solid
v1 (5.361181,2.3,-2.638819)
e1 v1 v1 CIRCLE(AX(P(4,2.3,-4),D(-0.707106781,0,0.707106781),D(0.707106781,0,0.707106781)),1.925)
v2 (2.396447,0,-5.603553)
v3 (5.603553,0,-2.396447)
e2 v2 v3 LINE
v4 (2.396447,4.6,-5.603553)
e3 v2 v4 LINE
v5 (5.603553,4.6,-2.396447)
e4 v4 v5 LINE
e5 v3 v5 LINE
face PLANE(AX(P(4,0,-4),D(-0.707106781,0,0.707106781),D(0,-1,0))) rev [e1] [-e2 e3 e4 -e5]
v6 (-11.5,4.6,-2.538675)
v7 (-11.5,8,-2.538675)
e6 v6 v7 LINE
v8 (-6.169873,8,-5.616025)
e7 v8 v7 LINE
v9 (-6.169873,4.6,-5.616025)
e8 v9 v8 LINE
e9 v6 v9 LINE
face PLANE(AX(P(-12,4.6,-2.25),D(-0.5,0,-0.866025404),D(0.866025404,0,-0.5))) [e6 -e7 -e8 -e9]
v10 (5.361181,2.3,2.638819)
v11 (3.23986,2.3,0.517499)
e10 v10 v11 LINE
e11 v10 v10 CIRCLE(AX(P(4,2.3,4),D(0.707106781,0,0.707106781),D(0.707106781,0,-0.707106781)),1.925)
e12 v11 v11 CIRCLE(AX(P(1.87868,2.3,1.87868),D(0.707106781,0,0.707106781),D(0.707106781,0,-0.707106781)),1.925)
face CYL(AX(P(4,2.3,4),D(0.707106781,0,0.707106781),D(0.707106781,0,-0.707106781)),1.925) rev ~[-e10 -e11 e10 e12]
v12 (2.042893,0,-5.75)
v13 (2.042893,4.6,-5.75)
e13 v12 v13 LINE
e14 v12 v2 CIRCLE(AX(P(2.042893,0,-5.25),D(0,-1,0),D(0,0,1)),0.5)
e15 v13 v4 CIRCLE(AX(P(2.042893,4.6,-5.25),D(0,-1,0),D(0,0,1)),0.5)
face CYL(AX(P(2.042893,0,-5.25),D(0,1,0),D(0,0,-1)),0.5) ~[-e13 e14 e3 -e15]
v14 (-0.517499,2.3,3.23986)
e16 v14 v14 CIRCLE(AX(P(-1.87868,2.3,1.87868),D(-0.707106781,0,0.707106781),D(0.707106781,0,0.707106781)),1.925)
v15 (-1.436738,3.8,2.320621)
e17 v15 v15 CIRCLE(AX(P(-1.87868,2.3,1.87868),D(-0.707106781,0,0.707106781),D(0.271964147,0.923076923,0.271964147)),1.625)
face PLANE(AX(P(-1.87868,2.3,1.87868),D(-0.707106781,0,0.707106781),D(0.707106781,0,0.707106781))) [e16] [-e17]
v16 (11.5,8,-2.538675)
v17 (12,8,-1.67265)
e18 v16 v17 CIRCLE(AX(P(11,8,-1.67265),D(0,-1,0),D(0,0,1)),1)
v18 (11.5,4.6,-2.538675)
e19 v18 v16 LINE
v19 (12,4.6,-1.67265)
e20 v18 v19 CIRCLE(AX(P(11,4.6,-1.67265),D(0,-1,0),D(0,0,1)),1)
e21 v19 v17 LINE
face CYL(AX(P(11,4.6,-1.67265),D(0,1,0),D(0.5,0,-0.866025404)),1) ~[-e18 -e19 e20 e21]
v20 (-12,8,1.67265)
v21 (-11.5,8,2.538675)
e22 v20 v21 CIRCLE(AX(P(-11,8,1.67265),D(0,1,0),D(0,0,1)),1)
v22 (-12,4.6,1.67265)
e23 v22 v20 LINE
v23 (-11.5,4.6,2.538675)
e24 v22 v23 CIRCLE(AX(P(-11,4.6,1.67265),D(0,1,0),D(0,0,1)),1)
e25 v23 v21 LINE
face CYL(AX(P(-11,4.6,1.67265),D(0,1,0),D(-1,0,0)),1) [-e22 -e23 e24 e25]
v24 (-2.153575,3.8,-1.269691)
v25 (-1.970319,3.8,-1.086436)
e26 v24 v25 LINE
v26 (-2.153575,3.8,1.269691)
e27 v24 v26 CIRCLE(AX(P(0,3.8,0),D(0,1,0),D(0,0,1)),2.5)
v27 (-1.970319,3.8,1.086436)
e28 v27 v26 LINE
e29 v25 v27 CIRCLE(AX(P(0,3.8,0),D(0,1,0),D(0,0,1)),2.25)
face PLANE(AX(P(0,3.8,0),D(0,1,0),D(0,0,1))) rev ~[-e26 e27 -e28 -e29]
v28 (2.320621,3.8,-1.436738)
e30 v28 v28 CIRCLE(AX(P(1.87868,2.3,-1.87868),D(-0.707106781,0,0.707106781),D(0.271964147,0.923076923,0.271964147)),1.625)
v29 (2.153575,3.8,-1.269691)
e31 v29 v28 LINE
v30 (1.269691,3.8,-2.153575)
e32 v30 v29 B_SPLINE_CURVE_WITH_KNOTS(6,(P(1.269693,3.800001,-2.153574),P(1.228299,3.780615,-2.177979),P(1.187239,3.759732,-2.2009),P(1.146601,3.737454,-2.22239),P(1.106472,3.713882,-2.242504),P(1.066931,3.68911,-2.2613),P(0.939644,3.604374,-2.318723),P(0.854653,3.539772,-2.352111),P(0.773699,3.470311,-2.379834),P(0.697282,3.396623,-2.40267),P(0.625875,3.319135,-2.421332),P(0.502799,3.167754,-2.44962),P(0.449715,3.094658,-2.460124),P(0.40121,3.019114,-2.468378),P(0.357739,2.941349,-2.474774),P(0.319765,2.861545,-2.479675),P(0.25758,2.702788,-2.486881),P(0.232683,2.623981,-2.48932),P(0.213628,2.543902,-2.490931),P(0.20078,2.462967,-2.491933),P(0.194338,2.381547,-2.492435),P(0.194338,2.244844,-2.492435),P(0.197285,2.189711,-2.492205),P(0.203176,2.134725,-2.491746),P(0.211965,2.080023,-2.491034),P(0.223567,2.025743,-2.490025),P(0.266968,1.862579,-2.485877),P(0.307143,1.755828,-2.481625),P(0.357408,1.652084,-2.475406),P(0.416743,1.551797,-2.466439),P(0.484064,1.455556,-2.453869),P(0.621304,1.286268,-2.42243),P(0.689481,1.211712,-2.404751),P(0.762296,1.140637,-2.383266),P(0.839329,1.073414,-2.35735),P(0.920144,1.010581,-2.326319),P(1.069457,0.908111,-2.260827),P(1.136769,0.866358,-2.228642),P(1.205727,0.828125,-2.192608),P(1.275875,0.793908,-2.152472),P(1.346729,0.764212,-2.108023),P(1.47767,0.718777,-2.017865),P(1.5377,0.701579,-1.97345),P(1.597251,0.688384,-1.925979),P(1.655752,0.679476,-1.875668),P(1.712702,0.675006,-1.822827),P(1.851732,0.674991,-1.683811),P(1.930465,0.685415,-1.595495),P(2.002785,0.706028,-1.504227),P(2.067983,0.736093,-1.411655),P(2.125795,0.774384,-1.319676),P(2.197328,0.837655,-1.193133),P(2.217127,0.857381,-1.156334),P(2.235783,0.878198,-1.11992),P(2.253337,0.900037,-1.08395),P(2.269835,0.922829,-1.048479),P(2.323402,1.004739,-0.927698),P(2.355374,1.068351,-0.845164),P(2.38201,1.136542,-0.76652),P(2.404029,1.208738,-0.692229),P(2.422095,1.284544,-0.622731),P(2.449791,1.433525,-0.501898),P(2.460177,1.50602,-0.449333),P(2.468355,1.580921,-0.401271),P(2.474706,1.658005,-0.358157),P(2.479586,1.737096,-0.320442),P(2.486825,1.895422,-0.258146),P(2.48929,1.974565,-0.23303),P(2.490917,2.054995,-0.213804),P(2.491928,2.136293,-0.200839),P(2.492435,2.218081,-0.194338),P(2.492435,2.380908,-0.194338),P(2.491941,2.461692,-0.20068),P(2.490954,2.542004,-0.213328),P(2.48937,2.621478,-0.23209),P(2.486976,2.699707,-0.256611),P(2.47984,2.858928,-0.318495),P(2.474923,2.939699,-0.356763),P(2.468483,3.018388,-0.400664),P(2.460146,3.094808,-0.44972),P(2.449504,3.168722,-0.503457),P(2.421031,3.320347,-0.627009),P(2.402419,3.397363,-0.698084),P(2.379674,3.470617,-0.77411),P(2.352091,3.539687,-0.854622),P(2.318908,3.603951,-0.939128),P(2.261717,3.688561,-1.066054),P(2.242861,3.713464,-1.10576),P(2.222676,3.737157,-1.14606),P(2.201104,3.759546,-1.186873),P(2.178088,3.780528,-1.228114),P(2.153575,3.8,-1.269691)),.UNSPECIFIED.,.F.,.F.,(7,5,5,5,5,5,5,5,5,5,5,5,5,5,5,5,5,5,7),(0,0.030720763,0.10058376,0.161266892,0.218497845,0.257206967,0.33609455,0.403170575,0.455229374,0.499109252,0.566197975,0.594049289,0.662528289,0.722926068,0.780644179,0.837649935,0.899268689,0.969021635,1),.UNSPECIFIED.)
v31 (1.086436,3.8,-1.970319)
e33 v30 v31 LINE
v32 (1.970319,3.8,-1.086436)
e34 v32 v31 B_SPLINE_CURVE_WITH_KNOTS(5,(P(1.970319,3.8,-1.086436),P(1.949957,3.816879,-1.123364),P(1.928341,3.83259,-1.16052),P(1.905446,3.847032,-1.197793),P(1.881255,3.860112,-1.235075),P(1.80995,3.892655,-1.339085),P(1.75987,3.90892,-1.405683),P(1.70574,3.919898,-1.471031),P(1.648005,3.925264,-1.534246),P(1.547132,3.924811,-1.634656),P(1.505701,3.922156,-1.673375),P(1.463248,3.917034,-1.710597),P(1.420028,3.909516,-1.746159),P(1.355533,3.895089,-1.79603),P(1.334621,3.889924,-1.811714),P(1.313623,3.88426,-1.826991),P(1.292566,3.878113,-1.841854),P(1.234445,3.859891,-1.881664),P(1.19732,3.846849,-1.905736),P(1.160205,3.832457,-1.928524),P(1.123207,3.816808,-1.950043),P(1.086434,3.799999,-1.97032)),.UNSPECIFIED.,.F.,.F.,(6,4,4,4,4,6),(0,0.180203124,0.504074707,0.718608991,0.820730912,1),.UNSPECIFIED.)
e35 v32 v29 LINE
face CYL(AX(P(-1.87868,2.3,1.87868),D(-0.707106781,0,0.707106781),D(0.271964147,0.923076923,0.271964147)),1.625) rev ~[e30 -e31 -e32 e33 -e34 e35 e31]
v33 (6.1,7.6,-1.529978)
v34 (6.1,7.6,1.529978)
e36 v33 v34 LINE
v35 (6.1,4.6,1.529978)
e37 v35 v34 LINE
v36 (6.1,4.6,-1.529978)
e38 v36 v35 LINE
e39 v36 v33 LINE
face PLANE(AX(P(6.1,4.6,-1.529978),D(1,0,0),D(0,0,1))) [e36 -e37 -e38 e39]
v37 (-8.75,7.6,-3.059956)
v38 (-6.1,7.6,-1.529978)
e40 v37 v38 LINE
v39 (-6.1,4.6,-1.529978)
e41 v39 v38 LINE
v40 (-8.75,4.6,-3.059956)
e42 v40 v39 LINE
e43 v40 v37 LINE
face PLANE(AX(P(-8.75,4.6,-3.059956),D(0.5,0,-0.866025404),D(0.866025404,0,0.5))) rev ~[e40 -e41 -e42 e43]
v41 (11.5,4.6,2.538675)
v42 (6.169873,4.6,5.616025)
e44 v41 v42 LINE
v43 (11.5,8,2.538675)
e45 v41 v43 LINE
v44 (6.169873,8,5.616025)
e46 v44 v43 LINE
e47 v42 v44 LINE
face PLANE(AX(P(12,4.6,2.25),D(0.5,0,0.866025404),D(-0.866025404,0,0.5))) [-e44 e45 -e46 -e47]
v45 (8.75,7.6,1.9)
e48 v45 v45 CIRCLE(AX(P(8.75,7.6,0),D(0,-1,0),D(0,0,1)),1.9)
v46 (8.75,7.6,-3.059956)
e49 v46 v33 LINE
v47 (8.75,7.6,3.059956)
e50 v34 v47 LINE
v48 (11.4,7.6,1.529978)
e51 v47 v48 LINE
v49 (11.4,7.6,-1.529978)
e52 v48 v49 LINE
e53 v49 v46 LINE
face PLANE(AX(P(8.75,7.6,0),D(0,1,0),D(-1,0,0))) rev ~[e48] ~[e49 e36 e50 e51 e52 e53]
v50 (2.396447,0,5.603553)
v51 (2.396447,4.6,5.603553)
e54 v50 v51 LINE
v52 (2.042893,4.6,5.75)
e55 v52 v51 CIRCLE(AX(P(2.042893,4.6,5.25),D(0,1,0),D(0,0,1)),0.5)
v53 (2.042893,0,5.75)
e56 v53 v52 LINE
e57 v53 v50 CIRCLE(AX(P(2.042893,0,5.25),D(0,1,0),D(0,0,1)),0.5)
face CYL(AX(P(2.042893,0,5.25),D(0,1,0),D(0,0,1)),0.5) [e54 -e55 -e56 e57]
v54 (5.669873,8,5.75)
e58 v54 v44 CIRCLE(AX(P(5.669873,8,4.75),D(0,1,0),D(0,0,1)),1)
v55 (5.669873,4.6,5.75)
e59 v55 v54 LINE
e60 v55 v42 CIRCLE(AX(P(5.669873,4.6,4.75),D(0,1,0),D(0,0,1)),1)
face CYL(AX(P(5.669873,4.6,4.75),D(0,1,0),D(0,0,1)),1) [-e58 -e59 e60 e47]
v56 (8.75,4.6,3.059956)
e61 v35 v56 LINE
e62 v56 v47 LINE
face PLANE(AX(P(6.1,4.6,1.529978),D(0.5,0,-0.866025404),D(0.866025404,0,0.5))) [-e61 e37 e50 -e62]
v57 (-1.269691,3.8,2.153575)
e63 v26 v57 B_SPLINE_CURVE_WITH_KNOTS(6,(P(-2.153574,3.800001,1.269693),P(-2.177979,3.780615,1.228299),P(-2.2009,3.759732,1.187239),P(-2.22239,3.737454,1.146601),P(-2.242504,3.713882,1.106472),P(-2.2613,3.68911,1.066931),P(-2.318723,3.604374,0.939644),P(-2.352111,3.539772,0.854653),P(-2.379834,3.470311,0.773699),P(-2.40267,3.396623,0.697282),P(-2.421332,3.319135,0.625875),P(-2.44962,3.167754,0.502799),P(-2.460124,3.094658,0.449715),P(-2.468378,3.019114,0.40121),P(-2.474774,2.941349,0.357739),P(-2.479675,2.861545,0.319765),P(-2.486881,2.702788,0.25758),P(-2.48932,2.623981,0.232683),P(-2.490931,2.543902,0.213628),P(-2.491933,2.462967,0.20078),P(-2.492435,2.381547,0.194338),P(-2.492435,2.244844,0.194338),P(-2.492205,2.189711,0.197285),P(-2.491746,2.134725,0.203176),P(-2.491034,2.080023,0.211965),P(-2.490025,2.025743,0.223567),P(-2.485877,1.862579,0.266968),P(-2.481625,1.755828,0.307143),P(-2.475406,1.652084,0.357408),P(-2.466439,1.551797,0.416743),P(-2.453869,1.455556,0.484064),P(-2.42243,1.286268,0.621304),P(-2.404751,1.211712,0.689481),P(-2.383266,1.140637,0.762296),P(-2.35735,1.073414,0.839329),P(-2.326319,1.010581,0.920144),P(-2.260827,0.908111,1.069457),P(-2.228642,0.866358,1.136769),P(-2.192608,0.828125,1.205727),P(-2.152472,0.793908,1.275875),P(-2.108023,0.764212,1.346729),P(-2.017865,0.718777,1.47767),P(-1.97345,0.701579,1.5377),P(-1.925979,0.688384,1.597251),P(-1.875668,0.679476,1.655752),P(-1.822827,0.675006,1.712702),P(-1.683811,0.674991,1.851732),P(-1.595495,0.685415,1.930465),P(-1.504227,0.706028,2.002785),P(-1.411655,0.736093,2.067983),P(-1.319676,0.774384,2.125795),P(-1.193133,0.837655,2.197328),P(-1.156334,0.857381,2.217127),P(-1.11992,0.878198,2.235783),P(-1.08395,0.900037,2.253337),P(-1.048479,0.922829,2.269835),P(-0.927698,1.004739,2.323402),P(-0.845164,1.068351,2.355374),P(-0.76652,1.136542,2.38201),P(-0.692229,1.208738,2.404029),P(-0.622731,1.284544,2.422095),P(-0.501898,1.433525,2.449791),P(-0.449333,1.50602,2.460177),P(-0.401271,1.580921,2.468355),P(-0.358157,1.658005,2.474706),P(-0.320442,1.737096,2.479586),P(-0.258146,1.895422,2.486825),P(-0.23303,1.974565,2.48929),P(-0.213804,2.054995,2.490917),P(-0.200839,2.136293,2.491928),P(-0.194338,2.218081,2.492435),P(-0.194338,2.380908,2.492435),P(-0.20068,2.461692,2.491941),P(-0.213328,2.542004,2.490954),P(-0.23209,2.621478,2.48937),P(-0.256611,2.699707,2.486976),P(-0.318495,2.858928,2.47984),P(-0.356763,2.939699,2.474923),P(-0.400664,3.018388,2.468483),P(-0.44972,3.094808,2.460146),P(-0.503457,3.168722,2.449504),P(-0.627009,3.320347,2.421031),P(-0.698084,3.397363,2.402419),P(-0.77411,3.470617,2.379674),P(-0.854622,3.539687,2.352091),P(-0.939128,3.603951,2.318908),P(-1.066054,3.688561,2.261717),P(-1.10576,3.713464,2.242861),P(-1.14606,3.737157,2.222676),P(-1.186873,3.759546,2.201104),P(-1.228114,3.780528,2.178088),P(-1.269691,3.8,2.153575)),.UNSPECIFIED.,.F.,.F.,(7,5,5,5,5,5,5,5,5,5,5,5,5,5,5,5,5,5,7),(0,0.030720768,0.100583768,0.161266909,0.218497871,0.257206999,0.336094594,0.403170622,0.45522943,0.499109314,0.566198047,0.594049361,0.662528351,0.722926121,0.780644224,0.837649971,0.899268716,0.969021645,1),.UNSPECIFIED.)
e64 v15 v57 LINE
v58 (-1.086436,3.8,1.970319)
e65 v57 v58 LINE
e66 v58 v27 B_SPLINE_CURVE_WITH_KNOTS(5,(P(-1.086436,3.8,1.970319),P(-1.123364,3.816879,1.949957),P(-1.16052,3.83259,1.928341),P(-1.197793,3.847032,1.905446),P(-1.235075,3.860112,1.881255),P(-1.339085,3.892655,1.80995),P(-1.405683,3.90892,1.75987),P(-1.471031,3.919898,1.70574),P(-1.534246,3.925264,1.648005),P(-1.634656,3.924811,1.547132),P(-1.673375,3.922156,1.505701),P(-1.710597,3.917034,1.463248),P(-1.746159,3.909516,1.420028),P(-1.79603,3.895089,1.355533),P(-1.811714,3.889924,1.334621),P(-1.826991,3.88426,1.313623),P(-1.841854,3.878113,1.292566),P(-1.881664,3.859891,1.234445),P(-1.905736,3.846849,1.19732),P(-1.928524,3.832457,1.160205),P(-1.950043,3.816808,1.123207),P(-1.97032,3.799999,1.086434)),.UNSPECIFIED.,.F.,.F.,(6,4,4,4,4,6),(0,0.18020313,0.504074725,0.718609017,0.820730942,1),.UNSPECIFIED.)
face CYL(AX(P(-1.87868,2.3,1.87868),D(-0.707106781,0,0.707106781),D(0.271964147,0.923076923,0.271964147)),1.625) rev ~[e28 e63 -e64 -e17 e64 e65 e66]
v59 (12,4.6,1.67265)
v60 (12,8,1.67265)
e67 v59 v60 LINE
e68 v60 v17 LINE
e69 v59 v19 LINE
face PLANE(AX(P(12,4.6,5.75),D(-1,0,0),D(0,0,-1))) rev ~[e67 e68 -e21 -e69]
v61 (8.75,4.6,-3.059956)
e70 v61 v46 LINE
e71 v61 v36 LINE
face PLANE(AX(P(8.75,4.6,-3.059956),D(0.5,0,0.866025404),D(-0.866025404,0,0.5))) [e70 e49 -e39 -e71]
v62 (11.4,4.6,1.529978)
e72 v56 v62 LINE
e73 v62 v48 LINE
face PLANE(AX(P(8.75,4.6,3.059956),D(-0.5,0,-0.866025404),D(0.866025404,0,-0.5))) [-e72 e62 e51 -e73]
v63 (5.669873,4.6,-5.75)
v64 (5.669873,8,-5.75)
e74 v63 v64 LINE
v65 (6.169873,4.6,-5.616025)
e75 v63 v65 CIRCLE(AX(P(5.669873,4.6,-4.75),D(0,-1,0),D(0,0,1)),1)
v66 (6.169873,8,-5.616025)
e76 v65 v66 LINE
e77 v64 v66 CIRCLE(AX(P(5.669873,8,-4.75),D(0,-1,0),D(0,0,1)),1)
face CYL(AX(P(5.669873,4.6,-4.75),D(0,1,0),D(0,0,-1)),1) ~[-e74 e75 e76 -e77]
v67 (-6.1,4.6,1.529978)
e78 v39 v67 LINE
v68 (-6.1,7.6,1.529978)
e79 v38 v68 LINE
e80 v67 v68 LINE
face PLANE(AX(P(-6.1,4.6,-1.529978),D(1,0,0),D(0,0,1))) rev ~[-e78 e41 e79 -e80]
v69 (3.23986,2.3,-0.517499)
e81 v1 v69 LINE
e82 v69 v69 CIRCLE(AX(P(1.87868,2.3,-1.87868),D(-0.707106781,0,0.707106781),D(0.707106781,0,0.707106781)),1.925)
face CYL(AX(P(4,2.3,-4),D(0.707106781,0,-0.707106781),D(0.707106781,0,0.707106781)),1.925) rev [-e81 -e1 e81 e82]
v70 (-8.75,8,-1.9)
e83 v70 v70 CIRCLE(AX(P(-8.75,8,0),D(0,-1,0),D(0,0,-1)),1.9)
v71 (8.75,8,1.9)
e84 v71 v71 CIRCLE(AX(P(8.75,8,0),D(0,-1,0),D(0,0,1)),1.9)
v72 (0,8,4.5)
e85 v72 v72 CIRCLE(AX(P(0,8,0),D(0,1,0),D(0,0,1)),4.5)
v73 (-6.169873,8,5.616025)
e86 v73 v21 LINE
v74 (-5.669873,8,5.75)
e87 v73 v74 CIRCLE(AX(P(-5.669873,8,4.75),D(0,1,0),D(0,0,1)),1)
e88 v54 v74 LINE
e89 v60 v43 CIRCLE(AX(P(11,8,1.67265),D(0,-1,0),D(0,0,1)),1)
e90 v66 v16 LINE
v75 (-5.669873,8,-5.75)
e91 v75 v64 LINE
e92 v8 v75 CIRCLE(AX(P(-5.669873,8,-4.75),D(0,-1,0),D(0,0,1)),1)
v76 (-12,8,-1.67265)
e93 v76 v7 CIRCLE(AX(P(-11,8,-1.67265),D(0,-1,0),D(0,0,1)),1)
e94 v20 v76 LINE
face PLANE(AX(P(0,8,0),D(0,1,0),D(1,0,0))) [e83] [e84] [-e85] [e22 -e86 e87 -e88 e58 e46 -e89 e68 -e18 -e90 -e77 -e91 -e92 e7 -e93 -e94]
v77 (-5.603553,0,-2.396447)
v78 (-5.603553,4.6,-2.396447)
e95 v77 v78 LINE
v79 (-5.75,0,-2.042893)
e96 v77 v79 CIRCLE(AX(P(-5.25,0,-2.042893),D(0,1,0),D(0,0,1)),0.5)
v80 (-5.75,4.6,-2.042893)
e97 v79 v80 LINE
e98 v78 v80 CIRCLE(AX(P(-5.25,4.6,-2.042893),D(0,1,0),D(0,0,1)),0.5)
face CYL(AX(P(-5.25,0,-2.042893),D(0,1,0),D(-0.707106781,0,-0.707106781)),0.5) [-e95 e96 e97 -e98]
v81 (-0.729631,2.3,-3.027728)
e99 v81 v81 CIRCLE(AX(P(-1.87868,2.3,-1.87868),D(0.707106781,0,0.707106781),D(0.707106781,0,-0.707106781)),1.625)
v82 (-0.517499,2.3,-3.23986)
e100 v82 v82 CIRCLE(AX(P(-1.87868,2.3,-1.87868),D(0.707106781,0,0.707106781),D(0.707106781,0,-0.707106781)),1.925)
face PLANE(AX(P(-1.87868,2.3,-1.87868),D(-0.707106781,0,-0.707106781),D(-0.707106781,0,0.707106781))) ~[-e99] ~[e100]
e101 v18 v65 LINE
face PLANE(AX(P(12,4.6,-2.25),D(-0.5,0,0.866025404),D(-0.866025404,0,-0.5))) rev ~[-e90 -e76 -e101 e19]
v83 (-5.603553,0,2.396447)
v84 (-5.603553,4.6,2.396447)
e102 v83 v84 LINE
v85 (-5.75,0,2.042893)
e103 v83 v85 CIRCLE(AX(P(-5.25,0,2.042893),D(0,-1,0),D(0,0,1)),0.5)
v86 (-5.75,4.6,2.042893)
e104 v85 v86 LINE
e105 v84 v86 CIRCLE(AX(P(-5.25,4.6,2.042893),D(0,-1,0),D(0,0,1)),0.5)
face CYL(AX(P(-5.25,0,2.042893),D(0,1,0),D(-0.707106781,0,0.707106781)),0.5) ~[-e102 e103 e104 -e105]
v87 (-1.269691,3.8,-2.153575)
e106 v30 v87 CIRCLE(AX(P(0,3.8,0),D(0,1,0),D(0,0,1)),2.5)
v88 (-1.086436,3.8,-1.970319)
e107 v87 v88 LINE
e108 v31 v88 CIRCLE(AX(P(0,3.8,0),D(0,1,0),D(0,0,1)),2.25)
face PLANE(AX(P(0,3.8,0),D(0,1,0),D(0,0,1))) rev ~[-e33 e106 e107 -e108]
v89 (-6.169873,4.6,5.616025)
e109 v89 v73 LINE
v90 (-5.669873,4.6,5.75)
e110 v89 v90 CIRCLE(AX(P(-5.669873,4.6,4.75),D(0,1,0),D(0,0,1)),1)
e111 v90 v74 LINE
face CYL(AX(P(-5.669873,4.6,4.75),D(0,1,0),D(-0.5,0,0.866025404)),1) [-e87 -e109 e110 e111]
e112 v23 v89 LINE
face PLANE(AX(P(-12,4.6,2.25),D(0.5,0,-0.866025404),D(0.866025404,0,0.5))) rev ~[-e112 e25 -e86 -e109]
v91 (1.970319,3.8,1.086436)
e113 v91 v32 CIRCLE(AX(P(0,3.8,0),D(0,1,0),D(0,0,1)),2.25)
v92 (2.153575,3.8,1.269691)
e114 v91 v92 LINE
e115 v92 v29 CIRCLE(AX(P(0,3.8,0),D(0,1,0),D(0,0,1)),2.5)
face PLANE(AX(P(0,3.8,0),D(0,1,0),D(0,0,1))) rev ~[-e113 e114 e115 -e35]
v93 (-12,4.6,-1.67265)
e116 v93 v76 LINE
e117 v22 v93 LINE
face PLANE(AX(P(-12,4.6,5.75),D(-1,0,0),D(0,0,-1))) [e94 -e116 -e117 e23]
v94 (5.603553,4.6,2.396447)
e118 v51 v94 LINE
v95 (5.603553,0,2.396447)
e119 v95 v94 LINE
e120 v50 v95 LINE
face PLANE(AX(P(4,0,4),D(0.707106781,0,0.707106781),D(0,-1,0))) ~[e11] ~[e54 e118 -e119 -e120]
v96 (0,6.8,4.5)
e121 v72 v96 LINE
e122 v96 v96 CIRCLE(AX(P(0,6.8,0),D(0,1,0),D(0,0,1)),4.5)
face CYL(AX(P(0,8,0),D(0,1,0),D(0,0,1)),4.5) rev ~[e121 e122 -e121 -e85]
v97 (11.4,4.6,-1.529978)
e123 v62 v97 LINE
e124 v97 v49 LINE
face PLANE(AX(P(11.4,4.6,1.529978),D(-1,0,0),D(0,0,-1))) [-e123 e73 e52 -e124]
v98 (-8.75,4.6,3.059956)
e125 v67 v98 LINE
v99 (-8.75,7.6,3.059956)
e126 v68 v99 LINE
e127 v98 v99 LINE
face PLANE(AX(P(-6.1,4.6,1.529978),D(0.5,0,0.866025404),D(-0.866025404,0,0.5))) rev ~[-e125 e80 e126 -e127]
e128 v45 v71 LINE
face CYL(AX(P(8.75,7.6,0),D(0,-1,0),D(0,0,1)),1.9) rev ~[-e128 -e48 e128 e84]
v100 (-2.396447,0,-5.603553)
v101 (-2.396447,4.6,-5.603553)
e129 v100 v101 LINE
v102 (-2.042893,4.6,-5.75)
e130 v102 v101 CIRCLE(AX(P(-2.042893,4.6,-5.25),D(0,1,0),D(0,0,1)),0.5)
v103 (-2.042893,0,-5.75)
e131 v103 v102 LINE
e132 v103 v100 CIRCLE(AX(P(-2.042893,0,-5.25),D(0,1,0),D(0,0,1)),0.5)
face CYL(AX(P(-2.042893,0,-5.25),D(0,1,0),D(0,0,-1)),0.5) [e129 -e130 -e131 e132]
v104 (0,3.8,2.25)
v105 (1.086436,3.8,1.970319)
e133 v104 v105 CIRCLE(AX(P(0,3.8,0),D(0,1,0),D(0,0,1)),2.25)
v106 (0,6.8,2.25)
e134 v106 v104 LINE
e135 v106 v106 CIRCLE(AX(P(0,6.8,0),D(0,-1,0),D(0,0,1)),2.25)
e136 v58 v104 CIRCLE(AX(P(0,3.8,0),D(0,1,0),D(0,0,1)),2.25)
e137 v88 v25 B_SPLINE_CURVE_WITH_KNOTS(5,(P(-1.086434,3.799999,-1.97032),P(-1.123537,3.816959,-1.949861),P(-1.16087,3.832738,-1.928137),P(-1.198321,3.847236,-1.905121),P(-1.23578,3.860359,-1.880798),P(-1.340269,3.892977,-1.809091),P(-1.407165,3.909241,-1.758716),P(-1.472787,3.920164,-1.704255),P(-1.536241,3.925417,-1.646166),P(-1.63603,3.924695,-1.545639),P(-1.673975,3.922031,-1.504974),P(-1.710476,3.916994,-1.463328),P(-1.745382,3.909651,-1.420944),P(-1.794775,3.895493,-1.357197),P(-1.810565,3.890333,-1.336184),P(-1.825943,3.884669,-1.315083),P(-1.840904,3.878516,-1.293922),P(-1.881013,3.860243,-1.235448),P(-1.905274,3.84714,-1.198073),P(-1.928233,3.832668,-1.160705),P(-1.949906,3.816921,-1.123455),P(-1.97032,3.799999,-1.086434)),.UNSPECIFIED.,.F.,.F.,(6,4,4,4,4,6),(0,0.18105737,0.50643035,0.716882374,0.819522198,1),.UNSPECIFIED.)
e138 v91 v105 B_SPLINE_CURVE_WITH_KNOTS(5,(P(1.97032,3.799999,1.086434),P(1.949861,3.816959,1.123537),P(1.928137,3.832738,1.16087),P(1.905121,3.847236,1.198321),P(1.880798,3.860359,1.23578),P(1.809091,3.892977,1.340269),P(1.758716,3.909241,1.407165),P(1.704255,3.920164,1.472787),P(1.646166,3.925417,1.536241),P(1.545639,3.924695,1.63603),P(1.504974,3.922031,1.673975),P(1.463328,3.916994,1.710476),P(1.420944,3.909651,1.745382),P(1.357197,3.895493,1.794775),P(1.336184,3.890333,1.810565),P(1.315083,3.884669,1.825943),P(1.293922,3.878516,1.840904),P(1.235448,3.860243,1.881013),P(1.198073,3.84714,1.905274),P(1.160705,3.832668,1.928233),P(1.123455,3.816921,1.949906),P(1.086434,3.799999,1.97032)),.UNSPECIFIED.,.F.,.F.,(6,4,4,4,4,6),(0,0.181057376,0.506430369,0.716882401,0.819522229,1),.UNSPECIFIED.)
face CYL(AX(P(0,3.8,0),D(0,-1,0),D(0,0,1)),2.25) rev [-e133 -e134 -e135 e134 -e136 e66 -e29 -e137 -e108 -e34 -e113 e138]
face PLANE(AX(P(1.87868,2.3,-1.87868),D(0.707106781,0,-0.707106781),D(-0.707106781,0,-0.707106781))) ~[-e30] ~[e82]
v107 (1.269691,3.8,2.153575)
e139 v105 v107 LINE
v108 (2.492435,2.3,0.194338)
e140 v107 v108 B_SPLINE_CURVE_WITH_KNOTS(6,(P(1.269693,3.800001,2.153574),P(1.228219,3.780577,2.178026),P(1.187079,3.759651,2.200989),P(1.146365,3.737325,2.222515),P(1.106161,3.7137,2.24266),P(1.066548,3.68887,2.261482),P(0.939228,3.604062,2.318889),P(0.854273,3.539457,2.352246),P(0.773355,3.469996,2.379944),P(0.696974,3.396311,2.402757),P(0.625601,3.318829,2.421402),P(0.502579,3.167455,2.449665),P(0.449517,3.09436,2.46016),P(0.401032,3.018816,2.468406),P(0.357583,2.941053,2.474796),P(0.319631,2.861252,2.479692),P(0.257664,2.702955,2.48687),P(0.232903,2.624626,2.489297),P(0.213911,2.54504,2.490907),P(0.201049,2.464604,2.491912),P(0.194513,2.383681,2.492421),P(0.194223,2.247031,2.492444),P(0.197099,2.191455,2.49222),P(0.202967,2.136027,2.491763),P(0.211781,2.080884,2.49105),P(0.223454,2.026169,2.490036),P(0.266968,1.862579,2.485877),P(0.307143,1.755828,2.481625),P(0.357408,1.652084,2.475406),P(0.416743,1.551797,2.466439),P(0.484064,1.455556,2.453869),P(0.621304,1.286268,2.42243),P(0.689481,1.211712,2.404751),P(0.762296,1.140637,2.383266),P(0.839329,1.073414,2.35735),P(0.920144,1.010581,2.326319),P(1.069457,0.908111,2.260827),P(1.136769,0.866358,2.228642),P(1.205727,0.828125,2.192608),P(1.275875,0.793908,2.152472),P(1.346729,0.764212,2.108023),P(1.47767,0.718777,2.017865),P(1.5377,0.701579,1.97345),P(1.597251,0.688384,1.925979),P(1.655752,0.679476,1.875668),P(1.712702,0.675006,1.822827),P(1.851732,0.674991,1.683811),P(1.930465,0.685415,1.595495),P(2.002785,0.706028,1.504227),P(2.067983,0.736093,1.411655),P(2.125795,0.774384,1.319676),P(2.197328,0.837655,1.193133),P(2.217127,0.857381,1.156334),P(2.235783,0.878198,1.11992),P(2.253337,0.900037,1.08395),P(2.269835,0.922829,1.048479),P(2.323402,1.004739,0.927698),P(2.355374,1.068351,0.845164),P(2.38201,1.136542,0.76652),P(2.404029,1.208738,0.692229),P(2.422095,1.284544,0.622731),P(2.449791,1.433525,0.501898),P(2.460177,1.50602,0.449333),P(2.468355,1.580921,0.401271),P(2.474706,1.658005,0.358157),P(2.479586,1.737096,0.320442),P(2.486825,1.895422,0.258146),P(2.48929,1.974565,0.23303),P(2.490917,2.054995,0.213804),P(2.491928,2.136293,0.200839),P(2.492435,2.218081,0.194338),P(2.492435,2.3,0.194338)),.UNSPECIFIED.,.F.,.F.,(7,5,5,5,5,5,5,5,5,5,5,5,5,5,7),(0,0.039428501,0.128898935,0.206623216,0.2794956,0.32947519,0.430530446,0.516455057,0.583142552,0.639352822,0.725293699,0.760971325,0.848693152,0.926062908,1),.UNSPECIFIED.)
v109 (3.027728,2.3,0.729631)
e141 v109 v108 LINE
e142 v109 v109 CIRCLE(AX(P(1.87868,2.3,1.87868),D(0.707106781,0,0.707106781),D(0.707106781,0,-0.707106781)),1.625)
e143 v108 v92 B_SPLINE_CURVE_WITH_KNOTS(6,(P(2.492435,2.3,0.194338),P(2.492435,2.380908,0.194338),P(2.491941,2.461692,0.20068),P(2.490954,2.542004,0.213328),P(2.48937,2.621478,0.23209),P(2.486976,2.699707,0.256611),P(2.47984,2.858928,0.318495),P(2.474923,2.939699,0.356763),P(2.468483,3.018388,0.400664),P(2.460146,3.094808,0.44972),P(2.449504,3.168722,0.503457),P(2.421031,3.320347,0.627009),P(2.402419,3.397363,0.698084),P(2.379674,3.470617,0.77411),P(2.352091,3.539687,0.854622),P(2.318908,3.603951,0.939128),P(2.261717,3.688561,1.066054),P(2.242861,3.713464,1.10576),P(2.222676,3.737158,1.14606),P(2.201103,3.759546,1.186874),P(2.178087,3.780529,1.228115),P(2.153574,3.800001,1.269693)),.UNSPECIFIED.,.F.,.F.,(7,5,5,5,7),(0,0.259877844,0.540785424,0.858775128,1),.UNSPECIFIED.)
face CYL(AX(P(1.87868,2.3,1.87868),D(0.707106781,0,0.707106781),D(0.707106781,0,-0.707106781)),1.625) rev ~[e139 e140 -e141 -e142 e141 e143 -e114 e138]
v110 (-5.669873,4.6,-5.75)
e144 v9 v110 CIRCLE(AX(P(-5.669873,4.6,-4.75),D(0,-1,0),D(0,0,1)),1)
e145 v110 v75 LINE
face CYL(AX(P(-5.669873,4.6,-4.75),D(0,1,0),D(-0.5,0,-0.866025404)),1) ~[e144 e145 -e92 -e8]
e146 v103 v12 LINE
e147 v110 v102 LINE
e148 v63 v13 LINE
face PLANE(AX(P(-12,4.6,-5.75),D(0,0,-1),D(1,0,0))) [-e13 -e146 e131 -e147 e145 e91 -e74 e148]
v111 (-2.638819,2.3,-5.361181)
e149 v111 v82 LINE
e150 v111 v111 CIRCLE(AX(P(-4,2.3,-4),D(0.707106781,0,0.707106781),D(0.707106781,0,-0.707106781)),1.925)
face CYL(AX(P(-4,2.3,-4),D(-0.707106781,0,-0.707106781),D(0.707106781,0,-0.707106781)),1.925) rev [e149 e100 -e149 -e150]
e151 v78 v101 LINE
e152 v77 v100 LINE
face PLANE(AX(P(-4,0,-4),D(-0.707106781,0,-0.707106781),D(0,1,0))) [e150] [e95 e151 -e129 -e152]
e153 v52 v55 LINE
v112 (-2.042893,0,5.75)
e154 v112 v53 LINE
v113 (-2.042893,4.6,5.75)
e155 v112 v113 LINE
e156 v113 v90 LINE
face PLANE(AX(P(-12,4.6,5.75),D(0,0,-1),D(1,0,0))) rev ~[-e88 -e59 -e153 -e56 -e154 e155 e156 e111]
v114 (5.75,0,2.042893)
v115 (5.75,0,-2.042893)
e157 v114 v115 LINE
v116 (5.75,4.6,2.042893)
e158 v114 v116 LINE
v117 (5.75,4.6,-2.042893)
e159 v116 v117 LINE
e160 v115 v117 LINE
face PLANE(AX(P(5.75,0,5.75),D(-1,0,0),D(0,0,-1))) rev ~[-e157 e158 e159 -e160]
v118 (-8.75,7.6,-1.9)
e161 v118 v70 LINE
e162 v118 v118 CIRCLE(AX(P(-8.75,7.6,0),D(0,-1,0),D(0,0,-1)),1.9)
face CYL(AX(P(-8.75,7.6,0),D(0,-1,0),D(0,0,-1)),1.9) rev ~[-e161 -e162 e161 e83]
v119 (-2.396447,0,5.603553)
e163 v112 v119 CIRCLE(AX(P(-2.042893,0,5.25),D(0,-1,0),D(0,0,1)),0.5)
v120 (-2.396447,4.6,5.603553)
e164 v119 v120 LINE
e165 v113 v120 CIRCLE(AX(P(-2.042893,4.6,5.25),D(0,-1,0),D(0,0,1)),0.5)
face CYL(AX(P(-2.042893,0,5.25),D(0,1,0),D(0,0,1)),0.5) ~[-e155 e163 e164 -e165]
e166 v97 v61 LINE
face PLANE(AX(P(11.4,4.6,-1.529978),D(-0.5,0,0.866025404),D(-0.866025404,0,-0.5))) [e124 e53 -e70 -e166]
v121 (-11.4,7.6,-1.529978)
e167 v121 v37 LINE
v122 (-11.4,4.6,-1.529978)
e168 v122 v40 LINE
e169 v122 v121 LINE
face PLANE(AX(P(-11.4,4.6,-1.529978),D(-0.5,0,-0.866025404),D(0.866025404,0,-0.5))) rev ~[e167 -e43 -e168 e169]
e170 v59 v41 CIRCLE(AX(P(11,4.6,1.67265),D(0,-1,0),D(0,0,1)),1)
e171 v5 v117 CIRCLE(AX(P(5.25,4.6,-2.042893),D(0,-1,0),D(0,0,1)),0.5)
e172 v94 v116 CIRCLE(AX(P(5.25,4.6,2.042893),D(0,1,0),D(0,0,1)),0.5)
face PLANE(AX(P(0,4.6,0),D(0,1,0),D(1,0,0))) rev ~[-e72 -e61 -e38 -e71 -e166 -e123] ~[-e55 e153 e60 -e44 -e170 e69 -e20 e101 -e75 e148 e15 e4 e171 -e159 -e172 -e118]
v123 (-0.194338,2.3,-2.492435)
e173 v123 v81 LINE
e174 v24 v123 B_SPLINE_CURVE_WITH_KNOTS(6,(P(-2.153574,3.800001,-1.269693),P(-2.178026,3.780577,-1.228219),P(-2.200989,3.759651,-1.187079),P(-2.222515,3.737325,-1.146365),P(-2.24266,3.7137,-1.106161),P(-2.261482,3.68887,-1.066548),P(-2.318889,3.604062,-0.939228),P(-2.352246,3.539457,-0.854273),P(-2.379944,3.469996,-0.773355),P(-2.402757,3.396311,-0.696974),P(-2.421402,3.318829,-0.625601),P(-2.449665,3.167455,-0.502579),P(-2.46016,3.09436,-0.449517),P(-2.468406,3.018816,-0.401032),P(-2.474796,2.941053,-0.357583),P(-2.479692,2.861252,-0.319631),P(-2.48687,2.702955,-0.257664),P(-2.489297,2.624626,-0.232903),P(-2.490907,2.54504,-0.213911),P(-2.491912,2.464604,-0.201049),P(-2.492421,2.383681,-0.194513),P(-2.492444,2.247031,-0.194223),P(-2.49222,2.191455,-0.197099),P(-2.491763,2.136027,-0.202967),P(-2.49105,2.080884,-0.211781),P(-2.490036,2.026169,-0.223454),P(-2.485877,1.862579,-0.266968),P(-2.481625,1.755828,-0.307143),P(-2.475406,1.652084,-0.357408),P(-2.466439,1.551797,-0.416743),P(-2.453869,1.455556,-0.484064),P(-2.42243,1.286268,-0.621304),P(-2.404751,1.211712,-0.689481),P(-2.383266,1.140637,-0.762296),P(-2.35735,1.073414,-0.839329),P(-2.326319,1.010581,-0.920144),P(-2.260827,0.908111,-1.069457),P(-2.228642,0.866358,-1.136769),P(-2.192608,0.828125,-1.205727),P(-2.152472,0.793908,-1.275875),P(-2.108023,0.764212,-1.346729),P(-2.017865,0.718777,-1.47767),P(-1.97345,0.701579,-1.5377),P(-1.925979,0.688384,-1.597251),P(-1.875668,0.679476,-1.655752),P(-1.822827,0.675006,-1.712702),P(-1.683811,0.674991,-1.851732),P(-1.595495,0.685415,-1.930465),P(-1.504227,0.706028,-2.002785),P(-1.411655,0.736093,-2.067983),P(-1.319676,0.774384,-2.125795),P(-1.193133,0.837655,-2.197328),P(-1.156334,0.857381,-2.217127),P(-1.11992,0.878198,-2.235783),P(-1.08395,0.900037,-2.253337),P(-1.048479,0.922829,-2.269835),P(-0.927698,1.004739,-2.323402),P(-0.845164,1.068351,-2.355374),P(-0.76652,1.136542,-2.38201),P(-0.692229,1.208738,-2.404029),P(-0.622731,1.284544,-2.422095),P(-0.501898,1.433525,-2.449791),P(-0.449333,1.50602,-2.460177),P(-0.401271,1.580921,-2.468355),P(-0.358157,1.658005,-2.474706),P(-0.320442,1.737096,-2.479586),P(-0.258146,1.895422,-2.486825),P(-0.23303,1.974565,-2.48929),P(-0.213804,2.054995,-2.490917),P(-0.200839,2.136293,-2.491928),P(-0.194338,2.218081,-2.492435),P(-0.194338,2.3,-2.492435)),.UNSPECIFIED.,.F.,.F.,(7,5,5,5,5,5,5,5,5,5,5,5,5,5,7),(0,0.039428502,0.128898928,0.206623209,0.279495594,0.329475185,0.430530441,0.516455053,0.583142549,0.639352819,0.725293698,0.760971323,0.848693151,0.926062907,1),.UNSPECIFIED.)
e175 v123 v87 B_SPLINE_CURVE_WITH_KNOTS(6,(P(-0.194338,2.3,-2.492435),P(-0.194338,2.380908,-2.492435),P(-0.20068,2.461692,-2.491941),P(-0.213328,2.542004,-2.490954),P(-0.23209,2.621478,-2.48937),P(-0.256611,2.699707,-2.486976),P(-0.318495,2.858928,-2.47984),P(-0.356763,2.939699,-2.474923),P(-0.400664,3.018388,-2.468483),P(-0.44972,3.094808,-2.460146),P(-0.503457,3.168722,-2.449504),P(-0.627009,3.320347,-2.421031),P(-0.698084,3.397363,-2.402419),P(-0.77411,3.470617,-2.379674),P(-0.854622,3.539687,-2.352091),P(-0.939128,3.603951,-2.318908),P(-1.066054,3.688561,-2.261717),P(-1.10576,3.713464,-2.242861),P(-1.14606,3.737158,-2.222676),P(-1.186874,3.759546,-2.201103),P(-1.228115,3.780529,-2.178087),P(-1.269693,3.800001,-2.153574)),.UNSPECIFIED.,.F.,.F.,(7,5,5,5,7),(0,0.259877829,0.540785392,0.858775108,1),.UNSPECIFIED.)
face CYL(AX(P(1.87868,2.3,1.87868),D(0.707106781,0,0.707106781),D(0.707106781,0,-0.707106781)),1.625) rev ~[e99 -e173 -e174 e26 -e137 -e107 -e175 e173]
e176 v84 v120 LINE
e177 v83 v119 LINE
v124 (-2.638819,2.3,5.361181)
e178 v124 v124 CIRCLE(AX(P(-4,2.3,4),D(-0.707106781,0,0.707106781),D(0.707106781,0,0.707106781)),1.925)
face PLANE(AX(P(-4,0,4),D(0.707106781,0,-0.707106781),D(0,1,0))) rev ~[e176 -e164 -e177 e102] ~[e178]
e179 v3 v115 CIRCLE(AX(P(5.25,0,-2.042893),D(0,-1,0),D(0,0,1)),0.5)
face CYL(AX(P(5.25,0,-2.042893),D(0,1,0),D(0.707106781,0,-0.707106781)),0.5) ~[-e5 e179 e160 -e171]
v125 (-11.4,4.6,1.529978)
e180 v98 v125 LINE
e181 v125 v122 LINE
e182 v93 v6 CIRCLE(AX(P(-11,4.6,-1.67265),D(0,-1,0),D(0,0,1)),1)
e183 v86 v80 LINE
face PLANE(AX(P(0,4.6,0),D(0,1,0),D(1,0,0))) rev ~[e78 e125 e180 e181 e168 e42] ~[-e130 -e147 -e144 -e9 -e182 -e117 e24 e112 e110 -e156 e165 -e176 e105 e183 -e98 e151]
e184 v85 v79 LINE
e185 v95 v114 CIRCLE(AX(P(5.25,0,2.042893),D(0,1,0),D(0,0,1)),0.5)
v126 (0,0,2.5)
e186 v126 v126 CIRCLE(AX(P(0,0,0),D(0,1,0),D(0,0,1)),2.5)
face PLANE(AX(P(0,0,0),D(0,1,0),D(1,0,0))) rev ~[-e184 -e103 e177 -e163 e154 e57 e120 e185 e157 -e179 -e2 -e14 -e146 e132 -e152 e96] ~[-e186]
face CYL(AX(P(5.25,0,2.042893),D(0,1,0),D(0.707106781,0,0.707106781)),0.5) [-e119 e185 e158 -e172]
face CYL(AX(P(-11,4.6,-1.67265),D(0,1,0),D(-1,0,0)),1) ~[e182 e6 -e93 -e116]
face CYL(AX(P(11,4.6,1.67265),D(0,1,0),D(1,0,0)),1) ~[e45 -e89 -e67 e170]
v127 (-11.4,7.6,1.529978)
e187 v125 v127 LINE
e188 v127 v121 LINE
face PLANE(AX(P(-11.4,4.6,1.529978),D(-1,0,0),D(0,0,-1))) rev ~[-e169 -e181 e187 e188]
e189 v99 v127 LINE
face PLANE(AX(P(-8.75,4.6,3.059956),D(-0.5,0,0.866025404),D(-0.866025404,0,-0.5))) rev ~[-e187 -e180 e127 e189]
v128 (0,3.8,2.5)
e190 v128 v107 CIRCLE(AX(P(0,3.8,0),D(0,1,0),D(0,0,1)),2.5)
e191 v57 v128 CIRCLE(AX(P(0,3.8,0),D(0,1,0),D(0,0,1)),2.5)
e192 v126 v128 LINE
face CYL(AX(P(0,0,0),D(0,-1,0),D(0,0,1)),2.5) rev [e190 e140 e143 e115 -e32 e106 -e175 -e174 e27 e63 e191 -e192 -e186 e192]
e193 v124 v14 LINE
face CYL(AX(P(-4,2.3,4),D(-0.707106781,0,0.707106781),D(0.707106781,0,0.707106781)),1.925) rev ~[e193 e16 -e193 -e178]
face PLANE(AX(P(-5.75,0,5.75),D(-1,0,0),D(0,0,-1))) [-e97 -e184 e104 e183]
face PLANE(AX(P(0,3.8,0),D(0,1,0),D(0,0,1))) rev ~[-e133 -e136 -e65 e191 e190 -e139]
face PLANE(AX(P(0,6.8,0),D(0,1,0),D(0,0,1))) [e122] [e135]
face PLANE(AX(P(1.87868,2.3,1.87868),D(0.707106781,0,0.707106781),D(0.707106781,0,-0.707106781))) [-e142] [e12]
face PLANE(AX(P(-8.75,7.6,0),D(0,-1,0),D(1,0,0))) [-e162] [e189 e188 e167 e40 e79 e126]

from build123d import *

# Parameters (mm, degrees)
ESBO_O10_W               = 11.5
ESBO_O10_H               = 11.5
ESBO_O10_R               = 2.5
RESSALTO_EXTRUS_O4_DEPTH = 8
CHANFRO2_SIZE            = 3.5
ESBO_O12_R               = 1.925
CORTE_EXTRUS_O4_DEPTH    = 3
ESBO_O17_R               = 1.925
CORTE_EXTRUS_O5_DEPTH    = 3
RESSALTO_EXTRUS_O5_START = -4.2
ESBO_O18_R               = 2.5
ESBO_O18_R_2             = 2.25
RESSALTO_EXTRUS_O5_DEPTH = 4.2
ESBO_O19_R               = 1.625
CORTE_EXTRUS_O6_DEPTH    = 14.431064984
ESBO_O20_R               = 1.625
CORTE_EXTRUS_O7_DEPTH    = 14.431065043
RESSALTO_EXTRUS_O6_START = -3.4
ESBO_O24_W               = 24
ESBO_O24_H               = 11.5
ESBO_O24_R               = 2.25
RESSALTO_EXTRUS_O6_DEPTH = 3.4
CORTE_EXTRUS_O8_DEPTH    = 3
ESBO_O26_R               = 1.9
CORTE_EXTRUS_O9_DEPTH    = 16.323919261
CORTE_EXTRUS_O10_DEPTH   = 15.079151286
FILETE3_R                = 1
FILETE4_R                = 0.5
ESBO_O30_R               = 4.5
CORTE_EXTRUS_O11_DEPTH   = 1.2


with BuildPart() as part:
    # Esboço10 → Ressalto-extrusão4 (new body)
    with BuildSketch(Plane(origin=(0, 0, 0), x_dir=(1, 0, 0), z_dir=(0, 1, 0))):
        Rectangle(ESBO_O10_W, ESBO_O10_H)
        with Locations(Location((0, 0, 0), (0, 0, 270))):
            Circle(ESBO_O10_R, mode=Mode.SUBTRACT)
    extrude(amount=RESSALTO_EXTRUS_O4_DEPTH)

    # Chanfro2
    chanfro2_edges = [part.edges().sort_by_distance(p)[0] for p in [
        (5.75, 4, 5.75),
        (-5.75, 4, 5.75),
        (-5.75, 4, -5.75),
        (5.75, 4, -5.75),
    ]]
    chamfer(chanfro2_edges, length=CHANFRO2_SIZE)

    # Esboço12 → Corte-extrusão4 (cut)
    with BuildSketch(Plane(origin=(-4, 0, 4), x_dir=(0.7071067811865465, 0, 0.7071067811865487), z_dir=(-0.7071067811865487, 0, 0.7071067811865465))):
        with Locations((0, 2.3)):
            Circle(ESBO_O12_R)
    corte_extrus_o4 = extrude(amount=-CORTE_EXTRUS_O4_DEPTH, mode=Mode.SUBTRACT)

    # Esboço17 → Corte-extrusão5 (cut)
    with BuildSketch(Plane(origin=(4, 0, 4), x_dir=(0.7071067811865489, 0, -0.7071067811865462), z_dir=(0.7071067811865462, 0, 0.7071067811865489))):
        with Locations((0, 2.3)):
            Circle(ESBO_O17_R)
    corte_extrus_o5 = extrude(amount=-CORTE_EXTRUS_O5_DEPTH, mode=Mode.SUBTRACT)

    # Espelhar1: Corte-extrusão4 across plane
    add(corte_extrus_o4.mirror(Plane.XY), mode=Mode.SUBTRACT)

    # Espelhar2: Corte-extrusão5 across plane
    add(corte_extrus_o5.mirror(Plane.XY), mode=Mode.SUBTRACT)

    # Esboço18 → Ressalto-extrusão5 (add)
    with BuildSketch(Plane(origin=(0, 8, 0), x_dir=(1, 0, 0), z_dir=(0, 1, 0)).offset(RESSALTO_EXTRUS_O5_START)):
        with Locations(Location((0, 0, 0), (0, 0, 270))):
            Circle(ESBO_O18_R)
        with Locations(Location((0, 0, 0), (0, 0, 270))):
            Circle(ESBO_O18_R_2, mode=Mode.SUBTRACT)
    extrude(amount=RESSALTO_EXTRUS_O5_DEPTH)

    # Esboço19 → Corte-extrusão6 (cut, through all)
    with BuildSketch(Plane(origin=(-1.878679656, 0, 1.878679656), x_dir=(0.7071067811865465, 0, 0.7071067811865486), z_dir=(-0.7071067811865486, 0, 0.7071067811865465))):
        with Locations(Location((0, 2.3, 0), (0, 0, 67.380135052))):
            Circle(ESBO_O19_R)
    extrude(amount=-CORTE_EXTRUS_O6_DEPTH, mode=Mode.SUBTRACT)

    # Esboço20 → Corte-extrusão7 (cut, through all)
    with BuildSketch(Plane(origin=(1.878679656, 0, 1.878679656), x_dir=(0.7071067811865488, 0, -0.7071067811865464), z_dir=(0.7071067811865464, 0, 0.7071067811865488))):
        with Locations((0, 2.3)):
            Circle(ESBO_O20_R)
    extrude(amount=-CORTE_EXTRUS_O7_DEPTH, mode=Mode.SUBTRACT)

    # Esboço24 → Ressalto-extrusão6 (add)
    with BuildSketch(Plane(origin=(0, 8, 0), x_dir=(1, 0, 0), z_dir=(0, 1, 0)).offset(RESSALTO_EXTRUS_O6_START)):
        Rectangle(ESBO_O24_W, ESBO_O24_H)
        with Locations(Location((0, 0, 0), (0, 0, 270))):
            Circle(ESBO_O24_R, mode=Mode.SUBTRACT)
    extrude(amount=RESSALTO_EXTRUS_O6_DEPTH)

    # Esboço25 → Corte-extrusão8 (cut)
    with BuildSketch(Plane.XZ.offset(-4.6)):
        Polygon((-8.75, 3.059956427), (-11.4, 1.529978213), (-11.4, -1.529978213), (-8.75, -3.059956427), (-6.1, -1.529978213), (-6.1, 1.529978213), align=None)
        Polygon((6.1, 1.529978213), (8.75, 3.059956427), (11.4, 1.529978213), (11.4, -1.529978213), (8.75, -3.059956427), (6.1, -1.529978213), align=None)
    extrude(amount=-CORTE_EXTRUS_O8_DEPTH, mode=Mode.SUBTRACT)

    # Esboço26 → Corte-extrusão9 (cut, through all)
    with BuildSketch(Plane.XZ.offset(-7.6)):
        with Locations(Location((-8.75, 0, 0), (0, 0, 270))):
            Circle(ESBO_O26_R)
        with Locations(Location((8.75, 0, 0), (0, 0, 90))):
            Circle(ESBO_O26_R)
    extrude(amount=-CORTE_EXTRUS_O9_DEPTH, mode=Mode.SUBTRACT)

    # Esboço27 → Corte-extrusão10 (cut, through all)
    with BuildSketch(Plane.XZ.offset(-4.6)):
        Polygon((-12, 5.75), (-12, 2.25), (-5.937822174, 5.75), align=None)
        Polygon((-5.937822174, -5.75), (-12, -5.75), (-12, -2.25), align=None)
        Polygon((12, -5.75), (12, -2.25), (5.937822174, -5.75), align=None)
        Polygon((5.937822174, 5.75), (12, 5.75), (12, 2.25), align=None)
    extrude(amount=-CORTE_EXTRUS_O10_DEPTH, mode=Mode.SUBTRACT)

    # Filete3
    filete3_edges = [part.edges().sort_by_distance(p)[0] for p in [
        (12, 6.3, 2.25),
        (5.937822174, 6.3, 5.75),
        (5.937822174, 6.3, -5.75),
        (12, 6.3, -2.25),
        (-12, 6.3, -2.25),
        (-5.937822174, 6.3, -5.75),
        (-5.937822174, 6.3, 5.75),
        (-12, 6.3, 2.25),
    ]]
    fillet(filete3_edges, radius=FILETE3_R)

    # Filete4
    filete4_edges = [part.edges().sort_by_distance(p)[0] for p in [
        (-2.25, 2.3, 5.75),
        (-5.75, 2.3, -2.25),
        (5.75, 2.3, 2.25),
        (2.25, 2.3, -5.75),
        (-2.25, 2.3, -5.75),
        (5.75, 2.3, -2.25),
        (2.25, 2.3, 5.75),
        (-5.75, 2.3, 2.25),
    ]]
    fillet(filete4_edges, radius=FILETE4_R)

    # Esboço30 → Corte-extrusão11 (cut)
    with BuildSketch(Plane(origin=(0, 8, 0), x_dir=(1, 0, 0), z_dir=(0, 1, 0))):
        with Locations(Location((0, 0, 0), (0, 0, 270))):
            Circle(ESBO_O30_R)
    extrude(amount=-CORTE_EXTRUS_O11_DEPTH, mode=Mode.SUBTRACT)


solid = part.part
